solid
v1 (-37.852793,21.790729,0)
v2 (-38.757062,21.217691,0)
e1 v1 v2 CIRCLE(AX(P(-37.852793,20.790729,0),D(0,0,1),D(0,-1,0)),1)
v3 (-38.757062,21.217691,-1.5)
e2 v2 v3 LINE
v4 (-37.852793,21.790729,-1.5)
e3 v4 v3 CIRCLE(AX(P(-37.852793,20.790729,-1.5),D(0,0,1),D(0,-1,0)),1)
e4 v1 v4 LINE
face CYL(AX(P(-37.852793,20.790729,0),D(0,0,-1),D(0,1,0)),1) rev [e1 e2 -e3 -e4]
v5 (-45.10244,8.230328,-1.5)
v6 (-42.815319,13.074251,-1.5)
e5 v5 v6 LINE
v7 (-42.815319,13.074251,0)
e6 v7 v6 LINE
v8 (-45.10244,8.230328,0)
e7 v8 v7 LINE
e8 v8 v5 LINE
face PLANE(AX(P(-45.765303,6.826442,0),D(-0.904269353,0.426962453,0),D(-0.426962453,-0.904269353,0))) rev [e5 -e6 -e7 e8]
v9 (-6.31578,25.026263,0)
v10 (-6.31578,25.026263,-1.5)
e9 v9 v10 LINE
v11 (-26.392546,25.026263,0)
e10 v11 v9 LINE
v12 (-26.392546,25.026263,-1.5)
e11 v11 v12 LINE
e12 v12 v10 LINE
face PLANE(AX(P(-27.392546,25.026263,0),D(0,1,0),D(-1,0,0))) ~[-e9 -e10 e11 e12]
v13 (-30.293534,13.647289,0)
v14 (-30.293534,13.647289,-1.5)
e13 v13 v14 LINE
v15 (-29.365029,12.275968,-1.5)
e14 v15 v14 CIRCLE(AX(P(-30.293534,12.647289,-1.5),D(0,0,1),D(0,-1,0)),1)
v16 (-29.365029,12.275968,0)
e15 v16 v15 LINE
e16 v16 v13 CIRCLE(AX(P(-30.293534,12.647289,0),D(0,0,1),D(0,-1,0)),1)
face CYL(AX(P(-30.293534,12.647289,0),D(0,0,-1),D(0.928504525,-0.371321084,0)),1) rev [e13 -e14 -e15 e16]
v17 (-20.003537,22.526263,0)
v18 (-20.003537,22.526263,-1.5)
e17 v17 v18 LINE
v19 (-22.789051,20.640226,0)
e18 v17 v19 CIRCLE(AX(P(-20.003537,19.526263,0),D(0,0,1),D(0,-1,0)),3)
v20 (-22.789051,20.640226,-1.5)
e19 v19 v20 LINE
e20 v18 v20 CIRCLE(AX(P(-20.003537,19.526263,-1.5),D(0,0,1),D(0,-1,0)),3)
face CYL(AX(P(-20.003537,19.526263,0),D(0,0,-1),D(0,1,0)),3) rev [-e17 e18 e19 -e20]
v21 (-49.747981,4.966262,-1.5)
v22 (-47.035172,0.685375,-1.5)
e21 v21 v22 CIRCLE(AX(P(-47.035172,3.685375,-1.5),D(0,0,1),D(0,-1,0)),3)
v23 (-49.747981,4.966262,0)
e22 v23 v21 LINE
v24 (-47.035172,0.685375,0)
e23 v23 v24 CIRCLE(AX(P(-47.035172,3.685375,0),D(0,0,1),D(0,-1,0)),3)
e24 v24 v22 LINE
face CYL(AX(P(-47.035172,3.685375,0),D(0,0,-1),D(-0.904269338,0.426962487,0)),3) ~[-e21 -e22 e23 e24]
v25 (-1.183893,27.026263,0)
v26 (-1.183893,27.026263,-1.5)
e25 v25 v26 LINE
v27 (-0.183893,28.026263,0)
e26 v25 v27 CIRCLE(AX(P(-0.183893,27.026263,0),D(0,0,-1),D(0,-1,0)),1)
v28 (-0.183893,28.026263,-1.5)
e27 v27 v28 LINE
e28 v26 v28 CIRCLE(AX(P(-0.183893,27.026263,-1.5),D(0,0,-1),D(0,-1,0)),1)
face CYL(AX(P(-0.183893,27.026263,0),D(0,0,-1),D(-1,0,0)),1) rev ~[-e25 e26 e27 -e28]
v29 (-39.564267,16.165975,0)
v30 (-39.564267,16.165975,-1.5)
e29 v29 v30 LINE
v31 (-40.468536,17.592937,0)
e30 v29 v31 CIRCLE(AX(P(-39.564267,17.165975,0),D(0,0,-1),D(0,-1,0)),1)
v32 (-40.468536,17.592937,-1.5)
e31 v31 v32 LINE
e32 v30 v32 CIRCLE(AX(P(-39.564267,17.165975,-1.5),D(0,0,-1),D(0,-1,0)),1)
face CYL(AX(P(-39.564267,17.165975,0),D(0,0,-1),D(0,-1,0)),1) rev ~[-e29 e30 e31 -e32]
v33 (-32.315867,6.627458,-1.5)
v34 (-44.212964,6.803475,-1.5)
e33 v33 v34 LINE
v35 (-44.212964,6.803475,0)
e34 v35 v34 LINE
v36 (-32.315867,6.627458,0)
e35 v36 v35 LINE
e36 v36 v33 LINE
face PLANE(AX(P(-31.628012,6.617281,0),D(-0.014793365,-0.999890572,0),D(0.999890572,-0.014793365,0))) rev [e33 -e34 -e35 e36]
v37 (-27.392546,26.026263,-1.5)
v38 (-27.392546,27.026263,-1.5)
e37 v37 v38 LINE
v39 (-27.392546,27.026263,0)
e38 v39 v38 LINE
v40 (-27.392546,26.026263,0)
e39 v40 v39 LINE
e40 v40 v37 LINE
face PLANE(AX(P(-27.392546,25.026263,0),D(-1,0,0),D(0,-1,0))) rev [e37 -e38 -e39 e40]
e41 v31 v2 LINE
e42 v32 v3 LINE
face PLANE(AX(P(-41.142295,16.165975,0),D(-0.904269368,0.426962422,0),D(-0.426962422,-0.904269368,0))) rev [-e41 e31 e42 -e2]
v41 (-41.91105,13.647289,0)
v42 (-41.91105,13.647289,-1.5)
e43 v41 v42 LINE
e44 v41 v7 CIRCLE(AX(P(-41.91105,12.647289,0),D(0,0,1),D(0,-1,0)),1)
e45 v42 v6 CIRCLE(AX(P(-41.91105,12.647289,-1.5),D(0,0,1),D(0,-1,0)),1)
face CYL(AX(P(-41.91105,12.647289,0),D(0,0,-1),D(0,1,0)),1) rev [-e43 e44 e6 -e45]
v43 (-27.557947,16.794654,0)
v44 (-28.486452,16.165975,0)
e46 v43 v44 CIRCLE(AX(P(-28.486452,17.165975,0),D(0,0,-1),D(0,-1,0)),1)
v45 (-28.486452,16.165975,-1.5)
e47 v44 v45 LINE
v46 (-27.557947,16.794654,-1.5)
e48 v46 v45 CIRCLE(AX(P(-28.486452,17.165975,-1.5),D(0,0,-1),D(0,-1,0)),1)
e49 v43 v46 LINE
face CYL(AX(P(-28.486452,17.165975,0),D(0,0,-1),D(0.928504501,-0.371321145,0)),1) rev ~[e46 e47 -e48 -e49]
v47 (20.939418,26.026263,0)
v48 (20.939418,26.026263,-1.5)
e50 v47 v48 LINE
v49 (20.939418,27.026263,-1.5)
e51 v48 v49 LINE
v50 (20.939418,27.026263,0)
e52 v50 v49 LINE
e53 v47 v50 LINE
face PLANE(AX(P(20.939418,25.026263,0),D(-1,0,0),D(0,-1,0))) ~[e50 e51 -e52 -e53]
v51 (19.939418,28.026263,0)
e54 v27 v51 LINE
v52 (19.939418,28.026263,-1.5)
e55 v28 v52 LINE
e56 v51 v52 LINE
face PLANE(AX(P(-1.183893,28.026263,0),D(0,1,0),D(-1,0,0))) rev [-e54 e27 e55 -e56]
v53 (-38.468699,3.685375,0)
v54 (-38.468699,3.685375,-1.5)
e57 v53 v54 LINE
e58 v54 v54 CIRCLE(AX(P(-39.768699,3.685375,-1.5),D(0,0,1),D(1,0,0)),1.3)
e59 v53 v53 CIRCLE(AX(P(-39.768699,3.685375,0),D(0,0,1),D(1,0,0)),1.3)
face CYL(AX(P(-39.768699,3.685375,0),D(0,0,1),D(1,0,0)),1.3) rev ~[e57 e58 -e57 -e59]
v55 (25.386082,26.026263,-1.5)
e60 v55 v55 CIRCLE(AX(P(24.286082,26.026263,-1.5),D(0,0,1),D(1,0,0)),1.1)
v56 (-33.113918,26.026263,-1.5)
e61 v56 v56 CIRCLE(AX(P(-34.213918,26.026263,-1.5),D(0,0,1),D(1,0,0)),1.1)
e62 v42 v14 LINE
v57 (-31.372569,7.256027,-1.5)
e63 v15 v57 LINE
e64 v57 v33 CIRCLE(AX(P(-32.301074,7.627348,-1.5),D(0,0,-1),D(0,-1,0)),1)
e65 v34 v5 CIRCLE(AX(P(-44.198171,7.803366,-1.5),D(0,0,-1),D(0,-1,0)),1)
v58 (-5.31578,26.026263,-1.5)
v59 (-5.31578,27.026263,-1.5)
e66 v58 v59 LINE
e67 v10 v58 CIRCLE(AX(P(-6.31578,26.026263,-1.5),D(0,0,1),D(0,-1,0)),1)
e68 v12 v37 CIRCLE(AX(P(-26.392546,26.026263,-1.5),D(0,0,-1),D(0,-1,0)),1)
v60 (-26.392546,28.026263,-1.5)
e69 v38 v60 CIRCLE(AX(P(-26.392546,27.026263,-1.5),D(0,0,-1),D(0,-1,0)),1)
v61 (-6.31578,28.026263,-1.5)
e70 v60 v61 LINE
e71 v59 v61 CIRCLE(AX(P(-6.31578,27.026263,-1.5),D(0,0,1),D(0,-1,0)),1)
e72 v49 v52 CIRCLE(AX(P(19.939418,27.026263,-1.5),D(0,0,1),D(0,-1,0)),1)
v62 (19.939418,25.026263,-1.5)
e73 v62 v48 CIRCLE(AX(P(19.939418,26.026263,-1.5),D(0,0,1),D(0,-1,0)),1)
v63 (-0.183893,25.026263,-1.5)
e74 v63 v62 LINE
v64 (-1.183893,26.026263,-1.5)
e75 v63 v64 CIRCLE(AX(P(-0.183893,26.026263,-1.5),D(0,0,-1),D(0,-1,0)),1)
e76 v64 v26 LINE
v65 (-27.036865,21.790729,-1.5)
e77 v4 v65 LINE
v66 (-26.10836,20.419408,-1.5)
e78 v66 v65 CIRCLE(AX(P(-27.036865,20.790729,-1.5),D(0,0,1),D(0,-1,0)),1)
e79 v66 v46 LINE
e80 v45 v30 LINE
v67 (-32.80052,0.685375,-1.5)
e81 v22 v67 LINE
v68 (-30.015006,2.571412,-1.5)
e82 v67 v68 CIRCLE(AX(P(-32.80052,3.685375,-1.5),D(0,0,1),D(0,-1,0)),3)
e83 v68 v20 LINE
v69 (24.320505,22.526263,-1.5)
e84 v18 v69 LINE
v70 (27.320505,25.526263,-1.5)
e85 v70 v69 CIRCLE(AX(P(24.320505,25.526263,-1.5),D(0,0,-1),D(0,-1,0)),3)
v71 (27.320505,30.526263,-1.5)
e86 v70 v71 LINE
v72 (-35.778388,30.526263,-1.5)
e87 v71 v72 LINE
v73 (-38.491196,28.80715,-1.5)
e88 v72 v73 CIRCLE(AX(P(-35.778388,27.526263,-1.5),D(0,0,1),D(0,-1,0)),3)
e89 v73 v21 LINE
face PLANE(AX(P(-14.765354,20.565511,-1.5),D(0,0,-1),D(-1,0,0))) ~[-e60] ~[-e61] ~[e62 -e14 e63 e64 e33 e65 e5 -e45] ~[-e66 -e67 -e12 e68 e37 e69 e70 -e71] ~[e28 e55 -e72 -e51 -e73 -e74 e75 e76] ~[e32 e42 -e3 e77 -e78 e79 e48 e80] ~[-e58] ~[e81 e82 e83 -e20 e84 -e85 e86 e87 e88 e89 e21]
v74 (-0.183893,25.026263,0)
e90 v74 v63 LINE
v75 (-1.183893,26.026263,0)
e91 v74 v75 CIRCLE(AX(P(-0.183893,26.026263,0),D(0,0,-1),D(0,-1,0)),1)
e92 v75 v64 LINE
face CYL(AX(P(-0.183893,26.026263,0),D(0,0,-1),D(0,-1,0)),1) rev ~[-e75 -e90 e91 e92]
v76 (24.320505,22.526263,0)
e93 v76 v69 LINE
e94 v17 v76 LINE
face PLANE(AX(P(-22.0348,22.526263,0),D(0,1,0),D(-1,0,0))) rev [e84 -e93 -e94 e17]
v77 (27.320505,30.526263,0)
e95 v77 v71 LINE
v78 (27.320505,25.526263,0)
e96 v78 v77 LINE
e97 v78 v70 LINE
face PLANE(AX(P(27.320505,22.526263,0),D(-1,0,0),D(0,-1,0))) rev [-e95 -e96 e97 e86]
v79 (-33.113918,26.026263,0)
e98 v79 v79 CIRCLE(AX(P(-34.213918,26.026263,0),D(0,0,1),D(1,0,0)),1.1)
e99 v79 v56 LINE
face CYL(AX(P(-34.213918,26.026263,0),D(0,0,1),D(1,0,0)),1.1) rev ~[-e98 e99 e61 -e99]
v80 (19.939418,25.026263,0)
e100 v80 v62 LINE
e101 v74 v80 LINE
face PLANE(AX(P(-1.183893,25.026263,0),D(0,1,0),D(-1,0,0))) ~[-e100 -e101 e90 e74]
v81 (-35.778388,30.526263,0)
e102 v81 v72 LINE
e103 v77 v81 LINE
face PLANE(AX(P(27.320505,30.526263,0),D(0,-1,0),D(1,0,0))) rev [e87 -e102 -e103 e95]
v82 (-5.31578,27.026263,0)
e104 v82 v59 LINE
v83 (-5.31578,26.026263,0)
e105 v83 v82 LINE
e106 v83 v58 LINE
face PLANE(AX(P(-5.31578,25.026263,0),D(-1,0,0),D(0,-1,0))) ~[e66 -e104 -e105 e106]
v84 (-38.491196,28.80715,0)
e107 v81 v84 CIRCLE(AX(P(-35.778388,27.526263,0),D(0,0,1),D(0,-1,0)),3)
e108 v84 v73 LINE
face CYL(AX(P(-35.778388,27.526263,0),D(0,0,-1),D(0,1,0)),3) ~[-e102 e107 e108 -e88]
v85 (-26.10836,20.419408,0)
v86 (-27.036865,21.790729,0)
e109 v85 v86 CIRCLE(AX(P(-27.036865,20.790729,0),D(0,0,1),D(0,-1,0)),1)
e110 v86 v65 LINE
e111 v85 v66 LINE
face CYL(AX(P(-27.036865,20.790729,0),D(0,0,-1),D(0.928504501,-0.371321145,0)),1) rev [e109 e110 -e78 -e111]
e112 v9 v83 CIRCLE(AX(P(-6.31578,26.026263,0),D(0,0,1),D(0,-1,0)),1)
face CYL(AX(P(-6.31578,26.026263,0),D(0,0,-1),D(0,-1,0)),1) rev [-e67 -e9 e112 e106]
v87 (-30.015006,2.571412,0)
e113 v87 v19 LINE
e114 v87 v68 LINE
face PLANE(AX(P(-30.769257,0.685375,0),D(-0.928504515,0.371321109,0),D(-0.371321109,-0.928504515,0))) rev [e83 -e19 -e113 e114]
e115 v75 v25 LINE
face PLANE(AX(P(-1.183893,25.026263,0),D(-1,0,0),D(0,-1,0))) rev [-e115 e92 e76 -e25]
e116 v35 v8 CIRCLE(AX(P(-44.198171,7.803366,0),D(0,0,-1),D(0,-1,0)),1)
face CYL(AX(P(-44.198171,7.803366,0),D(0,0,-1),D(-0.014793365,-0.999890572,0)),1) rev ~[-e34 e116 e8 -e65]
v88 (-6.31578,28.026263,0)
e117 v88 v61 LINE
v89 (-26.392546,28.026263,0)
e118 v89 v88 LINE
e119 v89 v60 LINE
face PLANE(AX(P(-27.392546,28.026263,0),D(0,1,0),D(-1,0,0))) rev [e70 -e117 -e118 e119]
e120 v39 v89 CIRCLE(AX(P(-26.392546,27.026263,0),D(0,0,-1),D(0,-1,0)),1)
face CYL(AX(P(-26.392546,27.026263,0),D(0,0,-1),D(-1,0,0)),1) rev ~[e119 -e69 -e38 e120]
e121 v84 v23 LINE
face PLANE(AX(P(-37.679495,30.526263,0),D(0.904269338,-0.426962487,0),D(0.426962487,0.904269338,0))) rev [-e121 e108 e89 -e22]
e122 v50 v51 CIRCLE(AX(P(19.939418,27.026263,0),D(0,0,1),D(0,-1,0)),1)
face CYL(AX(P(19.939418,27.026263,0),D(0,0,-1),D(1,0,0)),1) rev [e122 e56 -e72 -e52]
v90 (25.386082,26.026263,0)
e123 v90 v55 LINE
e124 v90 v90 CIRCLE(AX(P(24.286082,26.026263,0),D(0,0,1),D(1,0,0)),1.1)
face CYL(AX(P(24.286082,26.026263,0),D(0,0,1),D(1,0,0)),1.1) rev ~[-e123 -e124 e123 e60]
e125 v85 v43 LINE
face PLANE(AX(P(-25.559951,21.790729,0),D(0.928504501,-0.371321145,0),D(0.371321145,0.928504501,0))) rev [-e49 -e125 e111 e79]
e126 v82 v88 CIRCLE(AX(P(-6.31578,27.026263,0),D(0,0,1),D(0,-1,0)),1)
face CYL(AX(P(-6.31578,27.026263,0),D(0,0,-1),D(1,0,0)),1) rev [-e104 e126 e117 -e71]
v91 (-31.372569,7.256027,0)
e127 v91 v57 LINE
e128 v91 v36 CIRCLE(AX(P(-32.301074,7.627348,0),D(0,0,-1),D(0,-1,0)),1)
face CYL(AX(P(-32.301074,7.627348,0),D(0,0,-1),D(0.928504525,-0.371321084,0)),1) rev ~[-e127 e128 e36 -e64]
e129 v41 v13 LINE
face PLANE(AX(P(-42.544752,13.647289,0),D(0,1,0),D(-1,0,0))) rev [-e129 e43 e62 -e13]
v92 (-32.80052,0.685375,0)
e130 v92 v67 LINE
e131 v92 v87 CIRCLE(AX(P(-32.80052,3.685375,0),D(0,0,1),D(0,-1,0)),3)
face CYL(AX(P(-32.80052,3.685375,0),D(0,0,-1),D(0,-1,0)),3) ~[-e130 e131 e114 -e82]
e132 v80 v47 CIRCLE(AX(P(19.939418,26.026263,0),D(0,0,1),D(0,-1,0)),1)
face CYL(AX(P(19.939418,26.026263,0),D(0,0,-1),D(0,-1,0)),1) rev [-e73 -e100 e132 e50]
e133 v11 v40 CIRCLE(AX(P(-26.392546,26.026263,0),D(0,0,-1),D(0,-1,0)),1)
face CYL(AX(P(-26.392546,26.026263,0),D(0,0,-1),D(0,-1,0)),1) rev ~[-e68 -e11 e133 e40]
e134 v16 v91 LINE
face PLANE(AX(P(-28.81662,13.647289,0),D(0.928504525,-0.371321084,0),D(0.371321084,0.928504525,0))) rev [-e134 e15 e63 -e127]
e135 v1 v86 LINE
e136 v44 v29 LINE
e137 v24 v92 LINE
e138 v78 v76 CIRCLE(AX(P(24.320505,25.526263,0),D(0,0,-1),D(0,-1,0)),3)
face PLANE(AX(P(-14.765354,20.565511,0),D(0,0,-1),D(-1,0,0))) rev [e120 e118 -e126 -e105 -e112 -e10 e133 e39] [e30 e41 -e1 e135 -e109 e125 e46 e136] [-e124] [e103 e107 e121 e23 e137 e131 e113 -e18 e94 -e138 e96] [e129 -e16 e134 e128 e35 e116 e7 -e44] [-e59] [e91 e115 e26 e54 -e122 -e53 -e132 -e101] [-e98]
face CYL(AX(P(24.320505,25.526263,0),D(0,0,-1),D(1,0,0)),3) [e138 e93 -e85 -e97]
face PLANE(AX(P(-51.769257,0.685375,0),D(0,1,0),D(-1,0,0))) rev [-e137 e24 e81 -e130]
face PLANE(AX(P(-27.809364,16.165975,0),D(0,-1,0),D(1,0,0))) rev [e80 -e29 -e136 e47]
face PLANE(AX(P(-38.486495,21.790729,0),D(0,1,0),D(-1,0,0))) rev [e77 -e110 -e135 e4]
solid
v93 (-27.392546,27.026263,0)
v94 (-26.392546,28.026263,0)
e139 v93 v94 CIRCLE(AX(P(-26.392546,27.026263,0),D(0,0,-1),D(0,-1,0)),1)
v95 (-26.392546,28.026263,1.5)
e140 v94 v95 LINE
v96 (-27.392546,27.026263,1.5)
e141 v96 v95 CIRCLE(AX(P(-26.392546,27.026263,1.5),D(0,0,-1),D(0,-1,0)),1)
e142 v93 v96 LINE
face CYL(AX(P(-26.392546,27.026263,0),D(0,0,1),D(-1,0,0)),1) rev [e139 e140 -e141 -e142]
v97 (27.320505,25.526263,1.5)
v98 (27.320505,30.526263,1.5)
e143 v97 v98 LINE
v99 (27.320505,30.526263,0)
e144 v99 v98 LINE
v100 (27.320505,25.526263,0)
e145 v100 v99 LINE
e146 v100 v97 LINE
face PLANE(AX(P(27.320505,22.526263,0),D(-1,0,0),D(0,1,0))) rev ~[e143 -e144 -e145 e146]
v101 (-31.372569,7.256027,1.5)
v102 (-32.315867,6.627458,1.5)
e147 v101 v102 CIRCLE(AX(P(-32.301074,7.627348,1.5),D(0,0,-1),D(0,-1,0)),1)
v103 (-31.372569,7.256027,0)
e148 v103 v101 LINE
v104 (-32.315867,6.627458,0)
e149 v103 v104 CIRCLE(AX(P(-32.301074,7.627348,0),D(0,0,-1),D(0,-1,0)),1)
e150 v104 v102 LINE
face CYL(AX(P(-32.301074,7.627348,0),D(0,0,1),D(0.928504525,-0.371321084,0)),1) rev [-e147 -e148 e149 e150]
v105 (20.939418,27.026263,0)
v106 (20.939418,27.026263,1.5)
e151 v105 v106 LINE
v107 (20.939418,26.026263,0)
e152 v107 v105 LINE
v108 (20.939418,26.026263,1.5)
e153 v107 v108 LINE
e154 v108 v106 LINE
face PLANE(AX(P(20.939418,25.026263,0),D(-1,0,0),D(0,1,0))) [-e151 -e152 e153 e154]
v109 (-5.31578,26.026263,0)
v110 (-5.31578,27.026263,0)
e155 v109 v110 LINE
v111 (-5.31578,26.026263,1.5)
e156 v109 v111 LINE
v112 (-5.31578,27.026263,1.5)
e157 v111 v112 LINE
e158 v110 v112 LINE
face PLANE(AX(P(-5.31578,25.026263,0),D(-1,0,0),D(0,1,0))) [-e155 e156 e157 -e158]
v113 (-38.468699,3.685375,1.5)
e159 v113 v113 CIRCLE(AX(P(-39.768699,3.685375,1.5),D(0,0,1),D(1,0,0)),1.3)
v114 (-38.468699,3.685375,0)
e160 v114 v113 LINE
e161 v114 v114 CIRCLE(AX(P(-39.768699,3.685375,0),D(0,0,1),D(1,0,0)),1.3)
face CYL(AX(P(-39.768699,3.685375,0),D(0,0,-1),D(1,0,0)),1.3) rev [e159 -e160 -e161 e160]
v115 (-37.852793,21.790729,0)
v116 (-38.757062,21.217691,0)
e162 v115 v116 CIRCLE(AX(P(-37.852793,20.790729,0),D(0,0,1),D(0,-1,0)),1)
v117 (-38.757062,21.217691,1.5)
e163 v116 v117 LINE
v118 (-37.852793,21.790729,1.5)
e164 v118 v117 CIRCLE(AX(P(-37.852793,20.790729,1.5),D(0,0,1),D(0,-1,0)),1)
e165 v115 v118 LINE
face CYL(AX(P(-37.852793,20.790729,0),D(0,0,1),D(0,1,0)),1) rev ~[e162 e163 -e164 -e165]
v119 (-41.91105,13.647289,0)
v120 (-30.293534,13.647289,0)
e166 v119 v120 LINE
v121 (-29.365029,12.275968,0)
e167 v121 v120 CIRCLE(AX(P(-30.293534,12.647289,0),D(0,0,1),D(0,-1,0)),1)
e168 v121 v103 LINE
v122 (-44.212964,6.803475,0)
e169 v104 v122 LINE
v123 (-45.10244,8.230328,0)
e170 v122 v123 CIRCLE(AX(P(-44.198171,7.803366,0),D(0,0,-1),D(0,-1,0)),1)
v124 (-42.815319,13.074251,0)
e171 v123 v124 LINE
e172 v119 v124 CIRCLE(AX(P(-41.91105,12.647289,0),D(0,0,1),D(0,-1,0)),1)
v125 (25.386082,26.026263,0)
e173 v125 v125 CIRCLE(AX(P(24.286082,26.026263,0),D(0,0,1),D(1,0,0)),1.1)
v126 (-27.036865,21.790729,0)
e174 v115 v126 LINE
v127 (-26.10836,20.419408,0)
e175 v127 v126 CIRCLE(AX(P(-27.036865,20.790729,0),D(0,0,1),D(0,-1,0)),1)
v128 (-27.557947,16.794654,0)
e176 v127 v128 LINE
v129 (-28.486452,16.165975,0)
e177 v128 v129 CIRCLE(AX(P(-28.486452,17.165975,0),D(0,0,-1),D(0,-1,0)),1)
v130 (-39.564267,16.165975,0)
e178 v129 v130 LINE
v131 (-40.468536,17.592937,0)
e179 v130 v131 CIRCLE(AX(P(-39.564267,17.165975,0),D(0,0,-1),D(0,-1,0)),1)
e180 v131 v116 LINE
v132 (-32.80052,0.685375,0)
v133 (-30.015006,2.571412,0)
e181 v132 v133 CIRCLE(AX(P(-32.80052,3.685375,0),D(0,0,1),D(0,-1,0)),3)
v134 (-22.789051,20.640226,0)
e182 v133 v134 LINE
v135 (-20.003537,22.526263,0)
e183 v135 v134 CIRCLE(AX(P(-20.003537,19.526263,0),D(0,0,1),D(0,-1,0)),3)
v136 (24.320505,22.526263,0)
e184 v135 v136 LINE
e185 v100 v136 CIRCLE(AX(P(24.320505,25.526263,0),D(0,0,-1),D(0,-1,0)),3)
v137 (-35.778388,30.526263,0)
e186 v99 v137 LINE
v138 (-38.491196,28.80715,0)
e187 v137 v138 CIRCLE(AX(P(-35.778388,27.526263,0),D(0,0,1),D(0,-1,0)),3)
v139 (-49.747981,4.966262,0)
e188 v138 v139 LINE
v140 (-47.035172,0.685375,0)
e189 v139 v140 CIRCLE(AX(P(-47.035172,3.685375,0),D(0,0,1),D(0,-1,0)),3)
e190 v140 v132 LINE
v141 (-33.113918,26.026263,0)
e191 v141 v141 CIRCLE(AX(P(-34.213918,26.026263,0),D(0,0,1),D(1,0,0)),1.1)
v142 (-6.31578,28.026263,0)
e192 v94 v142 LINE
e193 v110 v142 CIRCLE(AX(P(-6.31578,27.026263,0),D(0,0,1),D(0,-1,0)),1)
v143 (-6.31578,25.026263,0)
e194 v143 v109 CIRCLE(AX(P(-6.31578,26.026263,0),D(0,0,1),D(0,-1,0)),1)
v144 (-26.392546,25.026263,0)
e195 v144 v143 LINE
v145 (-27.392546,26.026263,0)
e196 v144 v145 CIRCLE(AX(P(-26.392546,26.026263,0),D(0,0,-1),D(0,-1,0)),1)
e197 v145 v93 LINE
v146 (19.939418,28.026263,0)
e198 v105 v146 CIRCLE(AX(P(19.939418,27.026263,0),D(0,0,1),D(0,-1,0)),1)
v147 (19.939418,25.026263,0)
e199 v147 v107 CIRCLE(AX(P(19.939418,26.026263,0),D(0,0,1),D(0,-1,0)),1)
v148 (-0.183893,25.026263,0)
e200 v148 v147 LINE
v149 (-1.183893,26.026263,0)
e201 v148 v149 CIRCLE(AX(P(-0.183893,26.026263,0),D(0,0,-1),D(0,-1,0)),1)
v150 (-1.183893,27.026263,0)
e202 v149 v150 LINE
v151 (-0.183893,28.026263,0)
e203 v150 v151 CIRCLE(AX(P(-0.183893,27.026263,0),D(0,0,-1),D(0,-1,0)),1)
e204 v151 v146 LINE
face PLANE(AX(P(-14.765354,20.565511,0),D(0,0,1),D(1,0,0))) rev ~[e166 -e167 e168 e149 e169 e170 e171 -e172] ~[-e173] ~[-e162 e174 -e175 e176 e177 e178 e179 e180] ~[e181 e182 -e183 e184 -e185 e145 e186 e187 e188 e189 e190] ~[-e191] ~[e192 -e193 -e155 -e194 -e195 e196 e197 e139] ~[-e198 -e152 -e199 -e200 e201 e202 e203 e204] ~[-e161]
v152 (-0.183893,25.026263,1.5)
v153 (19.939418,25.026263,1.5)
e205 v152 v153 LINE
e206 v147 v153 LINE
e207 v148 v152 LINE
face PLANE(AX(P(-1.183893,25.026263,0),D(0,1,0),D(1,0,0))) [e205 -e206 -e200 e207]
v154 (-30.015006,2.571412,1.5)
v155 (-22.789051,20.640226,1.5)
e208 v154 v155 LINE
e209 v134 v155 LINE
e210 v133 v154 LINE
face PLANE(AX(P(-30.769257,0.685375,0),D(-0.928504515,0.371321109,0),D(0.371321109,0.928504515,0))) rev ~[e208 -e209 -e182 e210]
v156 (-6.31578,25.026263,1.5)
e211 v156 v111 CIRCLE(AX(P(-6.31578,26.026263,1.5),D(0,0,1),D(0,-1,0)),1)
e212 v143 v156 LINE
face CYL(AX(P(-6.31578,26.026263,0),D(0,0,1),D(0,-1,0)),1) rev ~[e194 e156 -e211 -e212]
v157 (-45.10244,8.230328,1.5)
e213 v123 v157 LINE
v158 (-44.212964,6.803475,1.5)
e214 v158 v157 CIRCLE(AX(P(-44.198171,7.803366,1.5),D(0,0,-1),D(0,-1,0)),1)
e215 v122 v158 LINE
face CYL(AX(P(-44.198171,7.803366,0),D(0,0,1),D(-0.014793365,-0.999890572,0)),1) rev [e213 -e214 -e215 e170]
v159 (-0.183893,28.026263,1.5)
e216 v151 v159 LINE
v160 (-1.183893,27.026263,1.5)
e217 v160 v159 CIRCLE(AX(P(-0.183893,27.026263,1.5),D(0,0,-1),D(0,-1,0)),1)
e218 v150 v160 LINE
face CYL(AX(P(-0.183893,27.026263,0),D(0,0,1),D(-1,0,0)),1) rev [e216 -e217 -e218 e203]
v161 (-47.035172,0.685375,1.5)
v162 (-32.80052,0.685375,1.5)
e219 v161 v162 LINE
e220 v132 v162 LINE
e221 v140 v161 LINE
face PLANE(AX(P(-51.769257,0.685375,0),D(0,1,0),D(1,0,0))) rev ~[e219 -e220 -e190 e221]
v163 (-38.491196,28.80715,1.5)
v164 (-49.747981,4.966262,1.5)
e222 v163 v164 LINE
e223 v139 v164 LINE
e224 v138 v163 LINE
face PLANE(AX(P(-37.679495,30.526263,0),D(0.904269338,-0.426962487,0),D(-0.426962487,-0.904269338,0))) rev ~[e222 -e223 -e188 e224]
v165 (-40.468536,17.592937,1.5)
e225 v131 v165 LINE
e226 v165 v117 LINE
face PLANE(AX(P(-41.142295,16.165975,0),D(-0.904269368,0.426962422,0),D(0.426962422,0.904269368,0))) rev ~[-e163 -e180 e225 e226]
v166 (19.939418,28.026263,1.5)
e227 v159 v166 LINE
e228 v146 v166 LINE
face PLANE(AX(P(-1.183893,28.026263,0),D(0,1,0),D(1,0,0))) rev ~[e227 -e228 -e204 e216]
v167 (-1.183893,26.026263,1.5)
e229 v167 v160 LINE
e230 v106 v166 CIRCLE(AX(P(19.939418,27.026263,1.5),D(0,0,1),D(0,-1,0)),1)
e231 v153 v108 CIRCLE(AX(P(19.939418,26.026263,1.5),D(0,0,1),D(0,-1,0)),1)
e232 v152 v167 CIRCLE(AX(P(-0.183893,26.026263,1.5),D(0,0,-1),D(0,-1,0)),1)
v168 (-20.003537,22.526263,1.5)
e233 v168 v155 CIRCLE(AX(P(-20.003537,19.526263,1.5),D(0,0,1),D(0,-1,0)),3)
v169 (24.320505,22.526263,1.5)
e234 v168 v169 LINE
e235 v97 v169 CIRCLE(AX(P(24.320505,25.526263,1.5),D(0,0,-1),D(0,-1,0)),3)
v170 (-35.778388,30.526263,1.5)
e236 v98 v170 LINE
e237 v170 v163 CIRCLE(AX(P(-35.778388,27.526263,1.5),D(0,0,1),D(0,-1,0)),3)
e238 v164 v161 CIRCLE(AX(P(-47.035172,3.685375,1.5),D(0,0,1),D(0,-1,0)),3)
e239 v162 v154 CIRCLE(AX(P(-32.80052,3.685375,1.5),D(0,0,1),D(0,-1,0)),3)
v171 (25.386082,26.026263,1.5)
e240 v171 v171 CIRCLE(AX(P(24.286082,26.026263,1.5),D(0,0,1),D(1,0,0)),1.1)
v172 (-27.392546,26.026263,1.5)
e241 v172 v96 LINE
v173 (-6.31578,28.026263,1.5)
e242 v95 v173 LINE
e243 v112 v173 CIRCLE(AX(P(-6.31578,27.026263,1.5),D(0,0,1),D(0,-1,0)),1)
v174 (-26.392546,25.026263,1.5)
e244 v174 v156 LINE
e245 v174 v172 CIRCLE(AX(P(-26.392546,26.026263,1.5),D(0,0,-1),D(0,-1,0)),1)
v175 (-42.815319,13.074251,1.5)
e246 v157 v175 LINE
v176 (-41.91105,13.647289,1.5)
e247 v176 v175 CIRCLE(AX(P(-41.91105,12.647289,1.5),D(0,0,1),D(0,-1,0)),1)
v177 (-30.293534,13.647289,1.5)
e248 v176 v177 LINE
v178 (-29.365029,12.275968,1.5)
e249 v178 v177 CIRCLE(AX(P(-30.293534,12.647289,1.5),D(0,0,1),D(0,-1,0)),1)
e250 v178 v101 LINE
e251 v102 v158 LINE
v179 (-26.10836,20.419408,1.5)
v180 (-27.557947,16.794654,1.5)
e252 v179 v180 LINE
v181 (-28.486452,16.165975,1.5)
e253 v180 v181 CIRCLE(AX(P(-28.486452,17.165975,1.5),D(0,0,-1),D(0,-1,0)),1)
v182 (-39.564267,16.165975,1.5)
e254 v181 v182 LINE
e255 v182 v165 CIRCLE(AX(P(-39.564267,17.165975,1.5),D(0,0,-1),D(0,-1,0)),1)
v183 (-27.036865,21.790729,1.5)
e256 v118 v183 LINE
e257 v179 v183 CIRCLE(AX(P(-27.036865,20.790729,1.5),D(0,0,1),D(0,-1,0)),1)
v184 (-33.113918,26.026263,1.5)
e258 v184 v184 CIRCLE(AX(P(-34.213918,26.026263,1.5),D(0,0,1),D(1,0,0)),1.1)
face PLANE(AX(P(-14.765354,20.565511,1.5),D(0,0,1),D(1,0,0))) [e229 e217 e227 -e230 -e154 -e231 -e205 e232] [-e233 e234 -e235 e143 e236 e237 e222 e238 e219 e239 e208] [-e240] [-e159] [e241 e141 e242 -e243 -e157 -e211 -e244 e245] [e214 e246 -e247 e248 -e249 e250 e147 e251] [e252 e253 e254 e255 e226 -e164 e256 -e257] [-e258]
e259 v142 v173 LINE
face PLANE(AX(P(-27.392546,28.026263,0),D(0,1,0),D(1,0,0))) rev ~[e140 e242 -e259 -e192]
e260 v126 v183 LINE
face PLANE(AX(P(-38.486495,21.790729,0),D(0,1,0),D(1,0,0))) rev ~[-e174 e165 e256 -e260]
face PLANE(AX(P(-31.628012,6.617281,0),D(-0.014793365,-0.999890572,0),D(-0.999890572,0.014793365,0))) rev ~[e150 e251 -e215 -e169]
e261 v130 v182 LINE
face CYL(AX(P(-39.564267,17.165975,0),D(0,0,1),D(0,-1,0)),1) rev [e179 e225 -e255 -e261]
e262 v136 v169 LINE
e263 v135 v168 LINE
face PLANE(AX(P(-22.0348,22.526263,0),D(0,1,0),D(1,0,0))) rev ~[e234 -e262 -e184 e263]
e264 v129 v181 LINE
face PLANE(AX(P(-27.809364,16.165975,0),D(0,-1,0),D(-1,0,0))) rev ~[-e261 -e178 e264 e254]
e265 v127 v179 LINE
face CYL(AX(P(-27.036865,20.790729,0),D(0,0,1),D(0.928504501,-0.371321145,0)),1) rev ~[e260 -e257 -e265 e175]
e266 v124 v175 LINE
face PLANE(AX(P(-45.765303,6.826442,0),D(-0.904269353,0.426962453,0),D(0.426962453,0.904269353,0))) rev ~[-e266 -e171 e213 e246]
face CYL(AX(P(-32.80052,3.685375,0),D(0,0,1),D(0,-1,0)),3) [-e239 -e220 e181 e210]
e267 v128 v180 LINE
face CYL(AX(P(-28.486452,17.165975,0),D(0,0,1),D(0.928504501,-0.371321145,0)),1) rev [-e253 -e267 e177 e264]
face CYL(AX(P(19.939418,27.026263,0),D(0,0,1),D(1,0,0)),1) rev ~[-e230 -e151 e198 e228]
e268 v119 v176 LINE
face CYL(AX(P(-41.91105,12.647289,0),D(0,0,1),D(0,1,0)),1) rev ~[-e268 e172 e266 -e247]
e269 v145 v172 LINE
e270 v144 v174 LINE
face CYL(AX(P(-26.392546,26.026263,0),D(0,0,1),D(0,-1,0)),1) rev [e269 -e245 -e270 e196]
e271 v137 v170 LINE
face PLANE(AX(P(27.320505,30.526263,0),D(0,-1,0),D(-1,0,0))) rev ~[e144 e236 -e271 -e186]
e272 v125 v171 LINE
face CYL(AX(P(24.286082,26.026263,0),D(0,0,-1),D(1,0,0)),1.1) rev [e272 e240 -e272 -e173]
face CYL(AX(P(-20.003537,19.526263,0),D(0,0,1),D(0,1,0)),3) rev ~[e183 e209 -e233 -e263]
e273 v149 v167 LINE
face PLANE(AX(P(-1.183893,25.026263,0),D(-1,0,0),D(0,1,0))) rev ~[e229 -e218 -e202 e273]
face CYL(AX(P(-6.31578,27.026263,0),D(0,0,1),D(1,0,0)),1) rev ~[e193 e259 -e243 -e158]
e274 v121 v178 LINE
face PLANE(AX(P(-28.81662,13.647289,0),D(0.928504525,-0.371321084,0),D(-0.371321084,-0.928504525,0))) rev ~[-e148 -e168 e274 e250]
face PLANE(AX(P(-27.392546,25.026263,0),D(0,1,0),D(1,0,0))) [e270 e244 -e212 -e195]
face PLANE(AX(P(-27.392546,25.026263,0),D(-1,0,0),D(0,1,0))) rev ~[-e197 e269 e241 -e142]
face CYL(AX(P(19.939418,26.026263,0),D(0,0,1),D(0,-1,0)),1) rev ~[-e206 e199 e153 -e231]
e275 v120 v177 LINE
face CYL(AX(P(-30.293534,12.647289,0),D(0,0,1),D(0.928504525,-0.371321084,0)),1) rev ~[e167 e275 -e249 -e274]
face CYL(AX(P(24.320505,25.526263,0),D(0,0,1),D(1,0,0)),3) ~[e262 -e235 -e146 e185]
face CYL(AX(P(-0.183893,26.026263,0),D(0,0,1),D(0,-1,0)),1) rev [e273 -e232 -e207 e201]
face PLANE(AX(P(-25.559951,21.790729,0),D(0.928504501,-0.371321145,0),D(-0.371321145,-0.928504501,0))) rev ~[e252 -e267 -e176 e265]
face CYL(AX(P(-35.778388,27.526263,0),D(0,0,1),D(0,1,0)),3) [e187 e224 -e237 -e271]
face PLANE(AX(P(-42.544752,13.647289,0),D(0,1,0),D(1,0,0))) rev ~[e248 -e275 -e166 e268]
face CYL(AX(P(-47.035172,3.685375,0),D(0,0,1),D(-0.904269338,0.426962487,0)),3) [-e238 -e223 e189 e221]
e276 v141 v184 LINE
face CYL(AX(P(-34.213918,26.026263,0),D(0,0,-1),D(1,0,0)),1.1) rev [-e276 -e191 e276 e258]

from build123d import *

# Parameters (mm, degrees)
F0_R     = 1.3
F0_R_2   = 1.1
F0_W     = 22.076766
F0_H     = 3
F0_W_2   = 22.123311
F1_DEPTH = 1.5
F2_R     = 3
F3_R     = 1


with BuildPart() as f1:
    # F0 (on Top) → F1 (new body)
    with BuildSketch(Plane.XY):
        Polygon((27.320505, 30.526263), (-37.679495, 30.526263), (-51.769257, 0.685375), (-30.769257, 0.685375), (-22.0348, 22.526263), (27.320505, 22.526263), align=None)
        with Locations((-39.768699, 3.685375)):
            Circle(F0_R, mode=Mode.SUBTRACT)
        Polygon((-31.628012, 6.617281), (-45.765303, 6.826442), (-42.544752, 13.647289), (-28.81662, 13.647289), align=None, mode=Mode.SUBTRACT)
        Polygon((-27.809364, 16.165975), (-41.142295, 16.165975), (-38.486495, 21.790729), (-25.559951, 21.790729), align=None, mode=Mode.SUBTRACT)
        with Locations((-34.213918, 26.026263)):
            Circle(F0_R_2, mode=Mode.SUBTRACT)
        with Locations((-16.354163, 26.526263)):
            Rectangle(F0_W, F0_H, mode=Mode.SUBTRACT)
        with Locations((9.877762, 26.526263)):
            Rectangle(F0_W_2, F0_H, mode=Mode.SUBTRACT)
        with Locations((24.286082, 26.026263)):
            Circle(F0_R_2, mode=Mode.SUBTRACT)
    extrude(amount=F1_DEPTH)

    # F2
    f2_edges = [f1.edges().sort_by_distance(p)[0] for p in [
        (-22.0348, 22.526263, 0.75),
        (-37.679495, 30.526263, 0.75),
        (-51.769257, 0.685375, 0.75),
        (-30.769257, 0.685375, 0.75),
        (27.320505, 22.526263, 0.75),
    ]]
    fillet(f2_edges, radius=F2_R)

    # F3
    f3_edges = [f1.edges().sort_by_distance(p)[0] for p in [
        (-45.765303, 6.826442, 0.75),
        (-42.544752, 13.647289, 0.75),
        (-28.81662, 13.647289, 0.75),
        (-31.628012, 6.617281, 0.75),
        (-27.809364, 16.165975, 0.75),
        (-25.559951, 21.790729, 0.75),
        (-38.486495, 21.790729, 0.75),
        (-41.142295, 16.165975, 0.75),
        (-27.392546, 25.026263, 0.75),
        (-27.392546, 28.026263, 0.75),
        (-5.31578, 28.026263, 0.75),
        (-5.31578, 25.026263, 0.75),
        (20.939417, 25.026263, 0.75),
        (20.939417, 28.026263, 0.75),
        (-1.183894, 25.026263, 0.75),
        (-1.183894, 28.026263, 0.75),
    ]]
    fillet(f3_edges, radius=F3_R)


with BuildPart() as f4_1:
    # F4: instance of F1
    add(f1.part.mirror(Plane.XY))


solid = Compound([f1.part, f4_1.part])
